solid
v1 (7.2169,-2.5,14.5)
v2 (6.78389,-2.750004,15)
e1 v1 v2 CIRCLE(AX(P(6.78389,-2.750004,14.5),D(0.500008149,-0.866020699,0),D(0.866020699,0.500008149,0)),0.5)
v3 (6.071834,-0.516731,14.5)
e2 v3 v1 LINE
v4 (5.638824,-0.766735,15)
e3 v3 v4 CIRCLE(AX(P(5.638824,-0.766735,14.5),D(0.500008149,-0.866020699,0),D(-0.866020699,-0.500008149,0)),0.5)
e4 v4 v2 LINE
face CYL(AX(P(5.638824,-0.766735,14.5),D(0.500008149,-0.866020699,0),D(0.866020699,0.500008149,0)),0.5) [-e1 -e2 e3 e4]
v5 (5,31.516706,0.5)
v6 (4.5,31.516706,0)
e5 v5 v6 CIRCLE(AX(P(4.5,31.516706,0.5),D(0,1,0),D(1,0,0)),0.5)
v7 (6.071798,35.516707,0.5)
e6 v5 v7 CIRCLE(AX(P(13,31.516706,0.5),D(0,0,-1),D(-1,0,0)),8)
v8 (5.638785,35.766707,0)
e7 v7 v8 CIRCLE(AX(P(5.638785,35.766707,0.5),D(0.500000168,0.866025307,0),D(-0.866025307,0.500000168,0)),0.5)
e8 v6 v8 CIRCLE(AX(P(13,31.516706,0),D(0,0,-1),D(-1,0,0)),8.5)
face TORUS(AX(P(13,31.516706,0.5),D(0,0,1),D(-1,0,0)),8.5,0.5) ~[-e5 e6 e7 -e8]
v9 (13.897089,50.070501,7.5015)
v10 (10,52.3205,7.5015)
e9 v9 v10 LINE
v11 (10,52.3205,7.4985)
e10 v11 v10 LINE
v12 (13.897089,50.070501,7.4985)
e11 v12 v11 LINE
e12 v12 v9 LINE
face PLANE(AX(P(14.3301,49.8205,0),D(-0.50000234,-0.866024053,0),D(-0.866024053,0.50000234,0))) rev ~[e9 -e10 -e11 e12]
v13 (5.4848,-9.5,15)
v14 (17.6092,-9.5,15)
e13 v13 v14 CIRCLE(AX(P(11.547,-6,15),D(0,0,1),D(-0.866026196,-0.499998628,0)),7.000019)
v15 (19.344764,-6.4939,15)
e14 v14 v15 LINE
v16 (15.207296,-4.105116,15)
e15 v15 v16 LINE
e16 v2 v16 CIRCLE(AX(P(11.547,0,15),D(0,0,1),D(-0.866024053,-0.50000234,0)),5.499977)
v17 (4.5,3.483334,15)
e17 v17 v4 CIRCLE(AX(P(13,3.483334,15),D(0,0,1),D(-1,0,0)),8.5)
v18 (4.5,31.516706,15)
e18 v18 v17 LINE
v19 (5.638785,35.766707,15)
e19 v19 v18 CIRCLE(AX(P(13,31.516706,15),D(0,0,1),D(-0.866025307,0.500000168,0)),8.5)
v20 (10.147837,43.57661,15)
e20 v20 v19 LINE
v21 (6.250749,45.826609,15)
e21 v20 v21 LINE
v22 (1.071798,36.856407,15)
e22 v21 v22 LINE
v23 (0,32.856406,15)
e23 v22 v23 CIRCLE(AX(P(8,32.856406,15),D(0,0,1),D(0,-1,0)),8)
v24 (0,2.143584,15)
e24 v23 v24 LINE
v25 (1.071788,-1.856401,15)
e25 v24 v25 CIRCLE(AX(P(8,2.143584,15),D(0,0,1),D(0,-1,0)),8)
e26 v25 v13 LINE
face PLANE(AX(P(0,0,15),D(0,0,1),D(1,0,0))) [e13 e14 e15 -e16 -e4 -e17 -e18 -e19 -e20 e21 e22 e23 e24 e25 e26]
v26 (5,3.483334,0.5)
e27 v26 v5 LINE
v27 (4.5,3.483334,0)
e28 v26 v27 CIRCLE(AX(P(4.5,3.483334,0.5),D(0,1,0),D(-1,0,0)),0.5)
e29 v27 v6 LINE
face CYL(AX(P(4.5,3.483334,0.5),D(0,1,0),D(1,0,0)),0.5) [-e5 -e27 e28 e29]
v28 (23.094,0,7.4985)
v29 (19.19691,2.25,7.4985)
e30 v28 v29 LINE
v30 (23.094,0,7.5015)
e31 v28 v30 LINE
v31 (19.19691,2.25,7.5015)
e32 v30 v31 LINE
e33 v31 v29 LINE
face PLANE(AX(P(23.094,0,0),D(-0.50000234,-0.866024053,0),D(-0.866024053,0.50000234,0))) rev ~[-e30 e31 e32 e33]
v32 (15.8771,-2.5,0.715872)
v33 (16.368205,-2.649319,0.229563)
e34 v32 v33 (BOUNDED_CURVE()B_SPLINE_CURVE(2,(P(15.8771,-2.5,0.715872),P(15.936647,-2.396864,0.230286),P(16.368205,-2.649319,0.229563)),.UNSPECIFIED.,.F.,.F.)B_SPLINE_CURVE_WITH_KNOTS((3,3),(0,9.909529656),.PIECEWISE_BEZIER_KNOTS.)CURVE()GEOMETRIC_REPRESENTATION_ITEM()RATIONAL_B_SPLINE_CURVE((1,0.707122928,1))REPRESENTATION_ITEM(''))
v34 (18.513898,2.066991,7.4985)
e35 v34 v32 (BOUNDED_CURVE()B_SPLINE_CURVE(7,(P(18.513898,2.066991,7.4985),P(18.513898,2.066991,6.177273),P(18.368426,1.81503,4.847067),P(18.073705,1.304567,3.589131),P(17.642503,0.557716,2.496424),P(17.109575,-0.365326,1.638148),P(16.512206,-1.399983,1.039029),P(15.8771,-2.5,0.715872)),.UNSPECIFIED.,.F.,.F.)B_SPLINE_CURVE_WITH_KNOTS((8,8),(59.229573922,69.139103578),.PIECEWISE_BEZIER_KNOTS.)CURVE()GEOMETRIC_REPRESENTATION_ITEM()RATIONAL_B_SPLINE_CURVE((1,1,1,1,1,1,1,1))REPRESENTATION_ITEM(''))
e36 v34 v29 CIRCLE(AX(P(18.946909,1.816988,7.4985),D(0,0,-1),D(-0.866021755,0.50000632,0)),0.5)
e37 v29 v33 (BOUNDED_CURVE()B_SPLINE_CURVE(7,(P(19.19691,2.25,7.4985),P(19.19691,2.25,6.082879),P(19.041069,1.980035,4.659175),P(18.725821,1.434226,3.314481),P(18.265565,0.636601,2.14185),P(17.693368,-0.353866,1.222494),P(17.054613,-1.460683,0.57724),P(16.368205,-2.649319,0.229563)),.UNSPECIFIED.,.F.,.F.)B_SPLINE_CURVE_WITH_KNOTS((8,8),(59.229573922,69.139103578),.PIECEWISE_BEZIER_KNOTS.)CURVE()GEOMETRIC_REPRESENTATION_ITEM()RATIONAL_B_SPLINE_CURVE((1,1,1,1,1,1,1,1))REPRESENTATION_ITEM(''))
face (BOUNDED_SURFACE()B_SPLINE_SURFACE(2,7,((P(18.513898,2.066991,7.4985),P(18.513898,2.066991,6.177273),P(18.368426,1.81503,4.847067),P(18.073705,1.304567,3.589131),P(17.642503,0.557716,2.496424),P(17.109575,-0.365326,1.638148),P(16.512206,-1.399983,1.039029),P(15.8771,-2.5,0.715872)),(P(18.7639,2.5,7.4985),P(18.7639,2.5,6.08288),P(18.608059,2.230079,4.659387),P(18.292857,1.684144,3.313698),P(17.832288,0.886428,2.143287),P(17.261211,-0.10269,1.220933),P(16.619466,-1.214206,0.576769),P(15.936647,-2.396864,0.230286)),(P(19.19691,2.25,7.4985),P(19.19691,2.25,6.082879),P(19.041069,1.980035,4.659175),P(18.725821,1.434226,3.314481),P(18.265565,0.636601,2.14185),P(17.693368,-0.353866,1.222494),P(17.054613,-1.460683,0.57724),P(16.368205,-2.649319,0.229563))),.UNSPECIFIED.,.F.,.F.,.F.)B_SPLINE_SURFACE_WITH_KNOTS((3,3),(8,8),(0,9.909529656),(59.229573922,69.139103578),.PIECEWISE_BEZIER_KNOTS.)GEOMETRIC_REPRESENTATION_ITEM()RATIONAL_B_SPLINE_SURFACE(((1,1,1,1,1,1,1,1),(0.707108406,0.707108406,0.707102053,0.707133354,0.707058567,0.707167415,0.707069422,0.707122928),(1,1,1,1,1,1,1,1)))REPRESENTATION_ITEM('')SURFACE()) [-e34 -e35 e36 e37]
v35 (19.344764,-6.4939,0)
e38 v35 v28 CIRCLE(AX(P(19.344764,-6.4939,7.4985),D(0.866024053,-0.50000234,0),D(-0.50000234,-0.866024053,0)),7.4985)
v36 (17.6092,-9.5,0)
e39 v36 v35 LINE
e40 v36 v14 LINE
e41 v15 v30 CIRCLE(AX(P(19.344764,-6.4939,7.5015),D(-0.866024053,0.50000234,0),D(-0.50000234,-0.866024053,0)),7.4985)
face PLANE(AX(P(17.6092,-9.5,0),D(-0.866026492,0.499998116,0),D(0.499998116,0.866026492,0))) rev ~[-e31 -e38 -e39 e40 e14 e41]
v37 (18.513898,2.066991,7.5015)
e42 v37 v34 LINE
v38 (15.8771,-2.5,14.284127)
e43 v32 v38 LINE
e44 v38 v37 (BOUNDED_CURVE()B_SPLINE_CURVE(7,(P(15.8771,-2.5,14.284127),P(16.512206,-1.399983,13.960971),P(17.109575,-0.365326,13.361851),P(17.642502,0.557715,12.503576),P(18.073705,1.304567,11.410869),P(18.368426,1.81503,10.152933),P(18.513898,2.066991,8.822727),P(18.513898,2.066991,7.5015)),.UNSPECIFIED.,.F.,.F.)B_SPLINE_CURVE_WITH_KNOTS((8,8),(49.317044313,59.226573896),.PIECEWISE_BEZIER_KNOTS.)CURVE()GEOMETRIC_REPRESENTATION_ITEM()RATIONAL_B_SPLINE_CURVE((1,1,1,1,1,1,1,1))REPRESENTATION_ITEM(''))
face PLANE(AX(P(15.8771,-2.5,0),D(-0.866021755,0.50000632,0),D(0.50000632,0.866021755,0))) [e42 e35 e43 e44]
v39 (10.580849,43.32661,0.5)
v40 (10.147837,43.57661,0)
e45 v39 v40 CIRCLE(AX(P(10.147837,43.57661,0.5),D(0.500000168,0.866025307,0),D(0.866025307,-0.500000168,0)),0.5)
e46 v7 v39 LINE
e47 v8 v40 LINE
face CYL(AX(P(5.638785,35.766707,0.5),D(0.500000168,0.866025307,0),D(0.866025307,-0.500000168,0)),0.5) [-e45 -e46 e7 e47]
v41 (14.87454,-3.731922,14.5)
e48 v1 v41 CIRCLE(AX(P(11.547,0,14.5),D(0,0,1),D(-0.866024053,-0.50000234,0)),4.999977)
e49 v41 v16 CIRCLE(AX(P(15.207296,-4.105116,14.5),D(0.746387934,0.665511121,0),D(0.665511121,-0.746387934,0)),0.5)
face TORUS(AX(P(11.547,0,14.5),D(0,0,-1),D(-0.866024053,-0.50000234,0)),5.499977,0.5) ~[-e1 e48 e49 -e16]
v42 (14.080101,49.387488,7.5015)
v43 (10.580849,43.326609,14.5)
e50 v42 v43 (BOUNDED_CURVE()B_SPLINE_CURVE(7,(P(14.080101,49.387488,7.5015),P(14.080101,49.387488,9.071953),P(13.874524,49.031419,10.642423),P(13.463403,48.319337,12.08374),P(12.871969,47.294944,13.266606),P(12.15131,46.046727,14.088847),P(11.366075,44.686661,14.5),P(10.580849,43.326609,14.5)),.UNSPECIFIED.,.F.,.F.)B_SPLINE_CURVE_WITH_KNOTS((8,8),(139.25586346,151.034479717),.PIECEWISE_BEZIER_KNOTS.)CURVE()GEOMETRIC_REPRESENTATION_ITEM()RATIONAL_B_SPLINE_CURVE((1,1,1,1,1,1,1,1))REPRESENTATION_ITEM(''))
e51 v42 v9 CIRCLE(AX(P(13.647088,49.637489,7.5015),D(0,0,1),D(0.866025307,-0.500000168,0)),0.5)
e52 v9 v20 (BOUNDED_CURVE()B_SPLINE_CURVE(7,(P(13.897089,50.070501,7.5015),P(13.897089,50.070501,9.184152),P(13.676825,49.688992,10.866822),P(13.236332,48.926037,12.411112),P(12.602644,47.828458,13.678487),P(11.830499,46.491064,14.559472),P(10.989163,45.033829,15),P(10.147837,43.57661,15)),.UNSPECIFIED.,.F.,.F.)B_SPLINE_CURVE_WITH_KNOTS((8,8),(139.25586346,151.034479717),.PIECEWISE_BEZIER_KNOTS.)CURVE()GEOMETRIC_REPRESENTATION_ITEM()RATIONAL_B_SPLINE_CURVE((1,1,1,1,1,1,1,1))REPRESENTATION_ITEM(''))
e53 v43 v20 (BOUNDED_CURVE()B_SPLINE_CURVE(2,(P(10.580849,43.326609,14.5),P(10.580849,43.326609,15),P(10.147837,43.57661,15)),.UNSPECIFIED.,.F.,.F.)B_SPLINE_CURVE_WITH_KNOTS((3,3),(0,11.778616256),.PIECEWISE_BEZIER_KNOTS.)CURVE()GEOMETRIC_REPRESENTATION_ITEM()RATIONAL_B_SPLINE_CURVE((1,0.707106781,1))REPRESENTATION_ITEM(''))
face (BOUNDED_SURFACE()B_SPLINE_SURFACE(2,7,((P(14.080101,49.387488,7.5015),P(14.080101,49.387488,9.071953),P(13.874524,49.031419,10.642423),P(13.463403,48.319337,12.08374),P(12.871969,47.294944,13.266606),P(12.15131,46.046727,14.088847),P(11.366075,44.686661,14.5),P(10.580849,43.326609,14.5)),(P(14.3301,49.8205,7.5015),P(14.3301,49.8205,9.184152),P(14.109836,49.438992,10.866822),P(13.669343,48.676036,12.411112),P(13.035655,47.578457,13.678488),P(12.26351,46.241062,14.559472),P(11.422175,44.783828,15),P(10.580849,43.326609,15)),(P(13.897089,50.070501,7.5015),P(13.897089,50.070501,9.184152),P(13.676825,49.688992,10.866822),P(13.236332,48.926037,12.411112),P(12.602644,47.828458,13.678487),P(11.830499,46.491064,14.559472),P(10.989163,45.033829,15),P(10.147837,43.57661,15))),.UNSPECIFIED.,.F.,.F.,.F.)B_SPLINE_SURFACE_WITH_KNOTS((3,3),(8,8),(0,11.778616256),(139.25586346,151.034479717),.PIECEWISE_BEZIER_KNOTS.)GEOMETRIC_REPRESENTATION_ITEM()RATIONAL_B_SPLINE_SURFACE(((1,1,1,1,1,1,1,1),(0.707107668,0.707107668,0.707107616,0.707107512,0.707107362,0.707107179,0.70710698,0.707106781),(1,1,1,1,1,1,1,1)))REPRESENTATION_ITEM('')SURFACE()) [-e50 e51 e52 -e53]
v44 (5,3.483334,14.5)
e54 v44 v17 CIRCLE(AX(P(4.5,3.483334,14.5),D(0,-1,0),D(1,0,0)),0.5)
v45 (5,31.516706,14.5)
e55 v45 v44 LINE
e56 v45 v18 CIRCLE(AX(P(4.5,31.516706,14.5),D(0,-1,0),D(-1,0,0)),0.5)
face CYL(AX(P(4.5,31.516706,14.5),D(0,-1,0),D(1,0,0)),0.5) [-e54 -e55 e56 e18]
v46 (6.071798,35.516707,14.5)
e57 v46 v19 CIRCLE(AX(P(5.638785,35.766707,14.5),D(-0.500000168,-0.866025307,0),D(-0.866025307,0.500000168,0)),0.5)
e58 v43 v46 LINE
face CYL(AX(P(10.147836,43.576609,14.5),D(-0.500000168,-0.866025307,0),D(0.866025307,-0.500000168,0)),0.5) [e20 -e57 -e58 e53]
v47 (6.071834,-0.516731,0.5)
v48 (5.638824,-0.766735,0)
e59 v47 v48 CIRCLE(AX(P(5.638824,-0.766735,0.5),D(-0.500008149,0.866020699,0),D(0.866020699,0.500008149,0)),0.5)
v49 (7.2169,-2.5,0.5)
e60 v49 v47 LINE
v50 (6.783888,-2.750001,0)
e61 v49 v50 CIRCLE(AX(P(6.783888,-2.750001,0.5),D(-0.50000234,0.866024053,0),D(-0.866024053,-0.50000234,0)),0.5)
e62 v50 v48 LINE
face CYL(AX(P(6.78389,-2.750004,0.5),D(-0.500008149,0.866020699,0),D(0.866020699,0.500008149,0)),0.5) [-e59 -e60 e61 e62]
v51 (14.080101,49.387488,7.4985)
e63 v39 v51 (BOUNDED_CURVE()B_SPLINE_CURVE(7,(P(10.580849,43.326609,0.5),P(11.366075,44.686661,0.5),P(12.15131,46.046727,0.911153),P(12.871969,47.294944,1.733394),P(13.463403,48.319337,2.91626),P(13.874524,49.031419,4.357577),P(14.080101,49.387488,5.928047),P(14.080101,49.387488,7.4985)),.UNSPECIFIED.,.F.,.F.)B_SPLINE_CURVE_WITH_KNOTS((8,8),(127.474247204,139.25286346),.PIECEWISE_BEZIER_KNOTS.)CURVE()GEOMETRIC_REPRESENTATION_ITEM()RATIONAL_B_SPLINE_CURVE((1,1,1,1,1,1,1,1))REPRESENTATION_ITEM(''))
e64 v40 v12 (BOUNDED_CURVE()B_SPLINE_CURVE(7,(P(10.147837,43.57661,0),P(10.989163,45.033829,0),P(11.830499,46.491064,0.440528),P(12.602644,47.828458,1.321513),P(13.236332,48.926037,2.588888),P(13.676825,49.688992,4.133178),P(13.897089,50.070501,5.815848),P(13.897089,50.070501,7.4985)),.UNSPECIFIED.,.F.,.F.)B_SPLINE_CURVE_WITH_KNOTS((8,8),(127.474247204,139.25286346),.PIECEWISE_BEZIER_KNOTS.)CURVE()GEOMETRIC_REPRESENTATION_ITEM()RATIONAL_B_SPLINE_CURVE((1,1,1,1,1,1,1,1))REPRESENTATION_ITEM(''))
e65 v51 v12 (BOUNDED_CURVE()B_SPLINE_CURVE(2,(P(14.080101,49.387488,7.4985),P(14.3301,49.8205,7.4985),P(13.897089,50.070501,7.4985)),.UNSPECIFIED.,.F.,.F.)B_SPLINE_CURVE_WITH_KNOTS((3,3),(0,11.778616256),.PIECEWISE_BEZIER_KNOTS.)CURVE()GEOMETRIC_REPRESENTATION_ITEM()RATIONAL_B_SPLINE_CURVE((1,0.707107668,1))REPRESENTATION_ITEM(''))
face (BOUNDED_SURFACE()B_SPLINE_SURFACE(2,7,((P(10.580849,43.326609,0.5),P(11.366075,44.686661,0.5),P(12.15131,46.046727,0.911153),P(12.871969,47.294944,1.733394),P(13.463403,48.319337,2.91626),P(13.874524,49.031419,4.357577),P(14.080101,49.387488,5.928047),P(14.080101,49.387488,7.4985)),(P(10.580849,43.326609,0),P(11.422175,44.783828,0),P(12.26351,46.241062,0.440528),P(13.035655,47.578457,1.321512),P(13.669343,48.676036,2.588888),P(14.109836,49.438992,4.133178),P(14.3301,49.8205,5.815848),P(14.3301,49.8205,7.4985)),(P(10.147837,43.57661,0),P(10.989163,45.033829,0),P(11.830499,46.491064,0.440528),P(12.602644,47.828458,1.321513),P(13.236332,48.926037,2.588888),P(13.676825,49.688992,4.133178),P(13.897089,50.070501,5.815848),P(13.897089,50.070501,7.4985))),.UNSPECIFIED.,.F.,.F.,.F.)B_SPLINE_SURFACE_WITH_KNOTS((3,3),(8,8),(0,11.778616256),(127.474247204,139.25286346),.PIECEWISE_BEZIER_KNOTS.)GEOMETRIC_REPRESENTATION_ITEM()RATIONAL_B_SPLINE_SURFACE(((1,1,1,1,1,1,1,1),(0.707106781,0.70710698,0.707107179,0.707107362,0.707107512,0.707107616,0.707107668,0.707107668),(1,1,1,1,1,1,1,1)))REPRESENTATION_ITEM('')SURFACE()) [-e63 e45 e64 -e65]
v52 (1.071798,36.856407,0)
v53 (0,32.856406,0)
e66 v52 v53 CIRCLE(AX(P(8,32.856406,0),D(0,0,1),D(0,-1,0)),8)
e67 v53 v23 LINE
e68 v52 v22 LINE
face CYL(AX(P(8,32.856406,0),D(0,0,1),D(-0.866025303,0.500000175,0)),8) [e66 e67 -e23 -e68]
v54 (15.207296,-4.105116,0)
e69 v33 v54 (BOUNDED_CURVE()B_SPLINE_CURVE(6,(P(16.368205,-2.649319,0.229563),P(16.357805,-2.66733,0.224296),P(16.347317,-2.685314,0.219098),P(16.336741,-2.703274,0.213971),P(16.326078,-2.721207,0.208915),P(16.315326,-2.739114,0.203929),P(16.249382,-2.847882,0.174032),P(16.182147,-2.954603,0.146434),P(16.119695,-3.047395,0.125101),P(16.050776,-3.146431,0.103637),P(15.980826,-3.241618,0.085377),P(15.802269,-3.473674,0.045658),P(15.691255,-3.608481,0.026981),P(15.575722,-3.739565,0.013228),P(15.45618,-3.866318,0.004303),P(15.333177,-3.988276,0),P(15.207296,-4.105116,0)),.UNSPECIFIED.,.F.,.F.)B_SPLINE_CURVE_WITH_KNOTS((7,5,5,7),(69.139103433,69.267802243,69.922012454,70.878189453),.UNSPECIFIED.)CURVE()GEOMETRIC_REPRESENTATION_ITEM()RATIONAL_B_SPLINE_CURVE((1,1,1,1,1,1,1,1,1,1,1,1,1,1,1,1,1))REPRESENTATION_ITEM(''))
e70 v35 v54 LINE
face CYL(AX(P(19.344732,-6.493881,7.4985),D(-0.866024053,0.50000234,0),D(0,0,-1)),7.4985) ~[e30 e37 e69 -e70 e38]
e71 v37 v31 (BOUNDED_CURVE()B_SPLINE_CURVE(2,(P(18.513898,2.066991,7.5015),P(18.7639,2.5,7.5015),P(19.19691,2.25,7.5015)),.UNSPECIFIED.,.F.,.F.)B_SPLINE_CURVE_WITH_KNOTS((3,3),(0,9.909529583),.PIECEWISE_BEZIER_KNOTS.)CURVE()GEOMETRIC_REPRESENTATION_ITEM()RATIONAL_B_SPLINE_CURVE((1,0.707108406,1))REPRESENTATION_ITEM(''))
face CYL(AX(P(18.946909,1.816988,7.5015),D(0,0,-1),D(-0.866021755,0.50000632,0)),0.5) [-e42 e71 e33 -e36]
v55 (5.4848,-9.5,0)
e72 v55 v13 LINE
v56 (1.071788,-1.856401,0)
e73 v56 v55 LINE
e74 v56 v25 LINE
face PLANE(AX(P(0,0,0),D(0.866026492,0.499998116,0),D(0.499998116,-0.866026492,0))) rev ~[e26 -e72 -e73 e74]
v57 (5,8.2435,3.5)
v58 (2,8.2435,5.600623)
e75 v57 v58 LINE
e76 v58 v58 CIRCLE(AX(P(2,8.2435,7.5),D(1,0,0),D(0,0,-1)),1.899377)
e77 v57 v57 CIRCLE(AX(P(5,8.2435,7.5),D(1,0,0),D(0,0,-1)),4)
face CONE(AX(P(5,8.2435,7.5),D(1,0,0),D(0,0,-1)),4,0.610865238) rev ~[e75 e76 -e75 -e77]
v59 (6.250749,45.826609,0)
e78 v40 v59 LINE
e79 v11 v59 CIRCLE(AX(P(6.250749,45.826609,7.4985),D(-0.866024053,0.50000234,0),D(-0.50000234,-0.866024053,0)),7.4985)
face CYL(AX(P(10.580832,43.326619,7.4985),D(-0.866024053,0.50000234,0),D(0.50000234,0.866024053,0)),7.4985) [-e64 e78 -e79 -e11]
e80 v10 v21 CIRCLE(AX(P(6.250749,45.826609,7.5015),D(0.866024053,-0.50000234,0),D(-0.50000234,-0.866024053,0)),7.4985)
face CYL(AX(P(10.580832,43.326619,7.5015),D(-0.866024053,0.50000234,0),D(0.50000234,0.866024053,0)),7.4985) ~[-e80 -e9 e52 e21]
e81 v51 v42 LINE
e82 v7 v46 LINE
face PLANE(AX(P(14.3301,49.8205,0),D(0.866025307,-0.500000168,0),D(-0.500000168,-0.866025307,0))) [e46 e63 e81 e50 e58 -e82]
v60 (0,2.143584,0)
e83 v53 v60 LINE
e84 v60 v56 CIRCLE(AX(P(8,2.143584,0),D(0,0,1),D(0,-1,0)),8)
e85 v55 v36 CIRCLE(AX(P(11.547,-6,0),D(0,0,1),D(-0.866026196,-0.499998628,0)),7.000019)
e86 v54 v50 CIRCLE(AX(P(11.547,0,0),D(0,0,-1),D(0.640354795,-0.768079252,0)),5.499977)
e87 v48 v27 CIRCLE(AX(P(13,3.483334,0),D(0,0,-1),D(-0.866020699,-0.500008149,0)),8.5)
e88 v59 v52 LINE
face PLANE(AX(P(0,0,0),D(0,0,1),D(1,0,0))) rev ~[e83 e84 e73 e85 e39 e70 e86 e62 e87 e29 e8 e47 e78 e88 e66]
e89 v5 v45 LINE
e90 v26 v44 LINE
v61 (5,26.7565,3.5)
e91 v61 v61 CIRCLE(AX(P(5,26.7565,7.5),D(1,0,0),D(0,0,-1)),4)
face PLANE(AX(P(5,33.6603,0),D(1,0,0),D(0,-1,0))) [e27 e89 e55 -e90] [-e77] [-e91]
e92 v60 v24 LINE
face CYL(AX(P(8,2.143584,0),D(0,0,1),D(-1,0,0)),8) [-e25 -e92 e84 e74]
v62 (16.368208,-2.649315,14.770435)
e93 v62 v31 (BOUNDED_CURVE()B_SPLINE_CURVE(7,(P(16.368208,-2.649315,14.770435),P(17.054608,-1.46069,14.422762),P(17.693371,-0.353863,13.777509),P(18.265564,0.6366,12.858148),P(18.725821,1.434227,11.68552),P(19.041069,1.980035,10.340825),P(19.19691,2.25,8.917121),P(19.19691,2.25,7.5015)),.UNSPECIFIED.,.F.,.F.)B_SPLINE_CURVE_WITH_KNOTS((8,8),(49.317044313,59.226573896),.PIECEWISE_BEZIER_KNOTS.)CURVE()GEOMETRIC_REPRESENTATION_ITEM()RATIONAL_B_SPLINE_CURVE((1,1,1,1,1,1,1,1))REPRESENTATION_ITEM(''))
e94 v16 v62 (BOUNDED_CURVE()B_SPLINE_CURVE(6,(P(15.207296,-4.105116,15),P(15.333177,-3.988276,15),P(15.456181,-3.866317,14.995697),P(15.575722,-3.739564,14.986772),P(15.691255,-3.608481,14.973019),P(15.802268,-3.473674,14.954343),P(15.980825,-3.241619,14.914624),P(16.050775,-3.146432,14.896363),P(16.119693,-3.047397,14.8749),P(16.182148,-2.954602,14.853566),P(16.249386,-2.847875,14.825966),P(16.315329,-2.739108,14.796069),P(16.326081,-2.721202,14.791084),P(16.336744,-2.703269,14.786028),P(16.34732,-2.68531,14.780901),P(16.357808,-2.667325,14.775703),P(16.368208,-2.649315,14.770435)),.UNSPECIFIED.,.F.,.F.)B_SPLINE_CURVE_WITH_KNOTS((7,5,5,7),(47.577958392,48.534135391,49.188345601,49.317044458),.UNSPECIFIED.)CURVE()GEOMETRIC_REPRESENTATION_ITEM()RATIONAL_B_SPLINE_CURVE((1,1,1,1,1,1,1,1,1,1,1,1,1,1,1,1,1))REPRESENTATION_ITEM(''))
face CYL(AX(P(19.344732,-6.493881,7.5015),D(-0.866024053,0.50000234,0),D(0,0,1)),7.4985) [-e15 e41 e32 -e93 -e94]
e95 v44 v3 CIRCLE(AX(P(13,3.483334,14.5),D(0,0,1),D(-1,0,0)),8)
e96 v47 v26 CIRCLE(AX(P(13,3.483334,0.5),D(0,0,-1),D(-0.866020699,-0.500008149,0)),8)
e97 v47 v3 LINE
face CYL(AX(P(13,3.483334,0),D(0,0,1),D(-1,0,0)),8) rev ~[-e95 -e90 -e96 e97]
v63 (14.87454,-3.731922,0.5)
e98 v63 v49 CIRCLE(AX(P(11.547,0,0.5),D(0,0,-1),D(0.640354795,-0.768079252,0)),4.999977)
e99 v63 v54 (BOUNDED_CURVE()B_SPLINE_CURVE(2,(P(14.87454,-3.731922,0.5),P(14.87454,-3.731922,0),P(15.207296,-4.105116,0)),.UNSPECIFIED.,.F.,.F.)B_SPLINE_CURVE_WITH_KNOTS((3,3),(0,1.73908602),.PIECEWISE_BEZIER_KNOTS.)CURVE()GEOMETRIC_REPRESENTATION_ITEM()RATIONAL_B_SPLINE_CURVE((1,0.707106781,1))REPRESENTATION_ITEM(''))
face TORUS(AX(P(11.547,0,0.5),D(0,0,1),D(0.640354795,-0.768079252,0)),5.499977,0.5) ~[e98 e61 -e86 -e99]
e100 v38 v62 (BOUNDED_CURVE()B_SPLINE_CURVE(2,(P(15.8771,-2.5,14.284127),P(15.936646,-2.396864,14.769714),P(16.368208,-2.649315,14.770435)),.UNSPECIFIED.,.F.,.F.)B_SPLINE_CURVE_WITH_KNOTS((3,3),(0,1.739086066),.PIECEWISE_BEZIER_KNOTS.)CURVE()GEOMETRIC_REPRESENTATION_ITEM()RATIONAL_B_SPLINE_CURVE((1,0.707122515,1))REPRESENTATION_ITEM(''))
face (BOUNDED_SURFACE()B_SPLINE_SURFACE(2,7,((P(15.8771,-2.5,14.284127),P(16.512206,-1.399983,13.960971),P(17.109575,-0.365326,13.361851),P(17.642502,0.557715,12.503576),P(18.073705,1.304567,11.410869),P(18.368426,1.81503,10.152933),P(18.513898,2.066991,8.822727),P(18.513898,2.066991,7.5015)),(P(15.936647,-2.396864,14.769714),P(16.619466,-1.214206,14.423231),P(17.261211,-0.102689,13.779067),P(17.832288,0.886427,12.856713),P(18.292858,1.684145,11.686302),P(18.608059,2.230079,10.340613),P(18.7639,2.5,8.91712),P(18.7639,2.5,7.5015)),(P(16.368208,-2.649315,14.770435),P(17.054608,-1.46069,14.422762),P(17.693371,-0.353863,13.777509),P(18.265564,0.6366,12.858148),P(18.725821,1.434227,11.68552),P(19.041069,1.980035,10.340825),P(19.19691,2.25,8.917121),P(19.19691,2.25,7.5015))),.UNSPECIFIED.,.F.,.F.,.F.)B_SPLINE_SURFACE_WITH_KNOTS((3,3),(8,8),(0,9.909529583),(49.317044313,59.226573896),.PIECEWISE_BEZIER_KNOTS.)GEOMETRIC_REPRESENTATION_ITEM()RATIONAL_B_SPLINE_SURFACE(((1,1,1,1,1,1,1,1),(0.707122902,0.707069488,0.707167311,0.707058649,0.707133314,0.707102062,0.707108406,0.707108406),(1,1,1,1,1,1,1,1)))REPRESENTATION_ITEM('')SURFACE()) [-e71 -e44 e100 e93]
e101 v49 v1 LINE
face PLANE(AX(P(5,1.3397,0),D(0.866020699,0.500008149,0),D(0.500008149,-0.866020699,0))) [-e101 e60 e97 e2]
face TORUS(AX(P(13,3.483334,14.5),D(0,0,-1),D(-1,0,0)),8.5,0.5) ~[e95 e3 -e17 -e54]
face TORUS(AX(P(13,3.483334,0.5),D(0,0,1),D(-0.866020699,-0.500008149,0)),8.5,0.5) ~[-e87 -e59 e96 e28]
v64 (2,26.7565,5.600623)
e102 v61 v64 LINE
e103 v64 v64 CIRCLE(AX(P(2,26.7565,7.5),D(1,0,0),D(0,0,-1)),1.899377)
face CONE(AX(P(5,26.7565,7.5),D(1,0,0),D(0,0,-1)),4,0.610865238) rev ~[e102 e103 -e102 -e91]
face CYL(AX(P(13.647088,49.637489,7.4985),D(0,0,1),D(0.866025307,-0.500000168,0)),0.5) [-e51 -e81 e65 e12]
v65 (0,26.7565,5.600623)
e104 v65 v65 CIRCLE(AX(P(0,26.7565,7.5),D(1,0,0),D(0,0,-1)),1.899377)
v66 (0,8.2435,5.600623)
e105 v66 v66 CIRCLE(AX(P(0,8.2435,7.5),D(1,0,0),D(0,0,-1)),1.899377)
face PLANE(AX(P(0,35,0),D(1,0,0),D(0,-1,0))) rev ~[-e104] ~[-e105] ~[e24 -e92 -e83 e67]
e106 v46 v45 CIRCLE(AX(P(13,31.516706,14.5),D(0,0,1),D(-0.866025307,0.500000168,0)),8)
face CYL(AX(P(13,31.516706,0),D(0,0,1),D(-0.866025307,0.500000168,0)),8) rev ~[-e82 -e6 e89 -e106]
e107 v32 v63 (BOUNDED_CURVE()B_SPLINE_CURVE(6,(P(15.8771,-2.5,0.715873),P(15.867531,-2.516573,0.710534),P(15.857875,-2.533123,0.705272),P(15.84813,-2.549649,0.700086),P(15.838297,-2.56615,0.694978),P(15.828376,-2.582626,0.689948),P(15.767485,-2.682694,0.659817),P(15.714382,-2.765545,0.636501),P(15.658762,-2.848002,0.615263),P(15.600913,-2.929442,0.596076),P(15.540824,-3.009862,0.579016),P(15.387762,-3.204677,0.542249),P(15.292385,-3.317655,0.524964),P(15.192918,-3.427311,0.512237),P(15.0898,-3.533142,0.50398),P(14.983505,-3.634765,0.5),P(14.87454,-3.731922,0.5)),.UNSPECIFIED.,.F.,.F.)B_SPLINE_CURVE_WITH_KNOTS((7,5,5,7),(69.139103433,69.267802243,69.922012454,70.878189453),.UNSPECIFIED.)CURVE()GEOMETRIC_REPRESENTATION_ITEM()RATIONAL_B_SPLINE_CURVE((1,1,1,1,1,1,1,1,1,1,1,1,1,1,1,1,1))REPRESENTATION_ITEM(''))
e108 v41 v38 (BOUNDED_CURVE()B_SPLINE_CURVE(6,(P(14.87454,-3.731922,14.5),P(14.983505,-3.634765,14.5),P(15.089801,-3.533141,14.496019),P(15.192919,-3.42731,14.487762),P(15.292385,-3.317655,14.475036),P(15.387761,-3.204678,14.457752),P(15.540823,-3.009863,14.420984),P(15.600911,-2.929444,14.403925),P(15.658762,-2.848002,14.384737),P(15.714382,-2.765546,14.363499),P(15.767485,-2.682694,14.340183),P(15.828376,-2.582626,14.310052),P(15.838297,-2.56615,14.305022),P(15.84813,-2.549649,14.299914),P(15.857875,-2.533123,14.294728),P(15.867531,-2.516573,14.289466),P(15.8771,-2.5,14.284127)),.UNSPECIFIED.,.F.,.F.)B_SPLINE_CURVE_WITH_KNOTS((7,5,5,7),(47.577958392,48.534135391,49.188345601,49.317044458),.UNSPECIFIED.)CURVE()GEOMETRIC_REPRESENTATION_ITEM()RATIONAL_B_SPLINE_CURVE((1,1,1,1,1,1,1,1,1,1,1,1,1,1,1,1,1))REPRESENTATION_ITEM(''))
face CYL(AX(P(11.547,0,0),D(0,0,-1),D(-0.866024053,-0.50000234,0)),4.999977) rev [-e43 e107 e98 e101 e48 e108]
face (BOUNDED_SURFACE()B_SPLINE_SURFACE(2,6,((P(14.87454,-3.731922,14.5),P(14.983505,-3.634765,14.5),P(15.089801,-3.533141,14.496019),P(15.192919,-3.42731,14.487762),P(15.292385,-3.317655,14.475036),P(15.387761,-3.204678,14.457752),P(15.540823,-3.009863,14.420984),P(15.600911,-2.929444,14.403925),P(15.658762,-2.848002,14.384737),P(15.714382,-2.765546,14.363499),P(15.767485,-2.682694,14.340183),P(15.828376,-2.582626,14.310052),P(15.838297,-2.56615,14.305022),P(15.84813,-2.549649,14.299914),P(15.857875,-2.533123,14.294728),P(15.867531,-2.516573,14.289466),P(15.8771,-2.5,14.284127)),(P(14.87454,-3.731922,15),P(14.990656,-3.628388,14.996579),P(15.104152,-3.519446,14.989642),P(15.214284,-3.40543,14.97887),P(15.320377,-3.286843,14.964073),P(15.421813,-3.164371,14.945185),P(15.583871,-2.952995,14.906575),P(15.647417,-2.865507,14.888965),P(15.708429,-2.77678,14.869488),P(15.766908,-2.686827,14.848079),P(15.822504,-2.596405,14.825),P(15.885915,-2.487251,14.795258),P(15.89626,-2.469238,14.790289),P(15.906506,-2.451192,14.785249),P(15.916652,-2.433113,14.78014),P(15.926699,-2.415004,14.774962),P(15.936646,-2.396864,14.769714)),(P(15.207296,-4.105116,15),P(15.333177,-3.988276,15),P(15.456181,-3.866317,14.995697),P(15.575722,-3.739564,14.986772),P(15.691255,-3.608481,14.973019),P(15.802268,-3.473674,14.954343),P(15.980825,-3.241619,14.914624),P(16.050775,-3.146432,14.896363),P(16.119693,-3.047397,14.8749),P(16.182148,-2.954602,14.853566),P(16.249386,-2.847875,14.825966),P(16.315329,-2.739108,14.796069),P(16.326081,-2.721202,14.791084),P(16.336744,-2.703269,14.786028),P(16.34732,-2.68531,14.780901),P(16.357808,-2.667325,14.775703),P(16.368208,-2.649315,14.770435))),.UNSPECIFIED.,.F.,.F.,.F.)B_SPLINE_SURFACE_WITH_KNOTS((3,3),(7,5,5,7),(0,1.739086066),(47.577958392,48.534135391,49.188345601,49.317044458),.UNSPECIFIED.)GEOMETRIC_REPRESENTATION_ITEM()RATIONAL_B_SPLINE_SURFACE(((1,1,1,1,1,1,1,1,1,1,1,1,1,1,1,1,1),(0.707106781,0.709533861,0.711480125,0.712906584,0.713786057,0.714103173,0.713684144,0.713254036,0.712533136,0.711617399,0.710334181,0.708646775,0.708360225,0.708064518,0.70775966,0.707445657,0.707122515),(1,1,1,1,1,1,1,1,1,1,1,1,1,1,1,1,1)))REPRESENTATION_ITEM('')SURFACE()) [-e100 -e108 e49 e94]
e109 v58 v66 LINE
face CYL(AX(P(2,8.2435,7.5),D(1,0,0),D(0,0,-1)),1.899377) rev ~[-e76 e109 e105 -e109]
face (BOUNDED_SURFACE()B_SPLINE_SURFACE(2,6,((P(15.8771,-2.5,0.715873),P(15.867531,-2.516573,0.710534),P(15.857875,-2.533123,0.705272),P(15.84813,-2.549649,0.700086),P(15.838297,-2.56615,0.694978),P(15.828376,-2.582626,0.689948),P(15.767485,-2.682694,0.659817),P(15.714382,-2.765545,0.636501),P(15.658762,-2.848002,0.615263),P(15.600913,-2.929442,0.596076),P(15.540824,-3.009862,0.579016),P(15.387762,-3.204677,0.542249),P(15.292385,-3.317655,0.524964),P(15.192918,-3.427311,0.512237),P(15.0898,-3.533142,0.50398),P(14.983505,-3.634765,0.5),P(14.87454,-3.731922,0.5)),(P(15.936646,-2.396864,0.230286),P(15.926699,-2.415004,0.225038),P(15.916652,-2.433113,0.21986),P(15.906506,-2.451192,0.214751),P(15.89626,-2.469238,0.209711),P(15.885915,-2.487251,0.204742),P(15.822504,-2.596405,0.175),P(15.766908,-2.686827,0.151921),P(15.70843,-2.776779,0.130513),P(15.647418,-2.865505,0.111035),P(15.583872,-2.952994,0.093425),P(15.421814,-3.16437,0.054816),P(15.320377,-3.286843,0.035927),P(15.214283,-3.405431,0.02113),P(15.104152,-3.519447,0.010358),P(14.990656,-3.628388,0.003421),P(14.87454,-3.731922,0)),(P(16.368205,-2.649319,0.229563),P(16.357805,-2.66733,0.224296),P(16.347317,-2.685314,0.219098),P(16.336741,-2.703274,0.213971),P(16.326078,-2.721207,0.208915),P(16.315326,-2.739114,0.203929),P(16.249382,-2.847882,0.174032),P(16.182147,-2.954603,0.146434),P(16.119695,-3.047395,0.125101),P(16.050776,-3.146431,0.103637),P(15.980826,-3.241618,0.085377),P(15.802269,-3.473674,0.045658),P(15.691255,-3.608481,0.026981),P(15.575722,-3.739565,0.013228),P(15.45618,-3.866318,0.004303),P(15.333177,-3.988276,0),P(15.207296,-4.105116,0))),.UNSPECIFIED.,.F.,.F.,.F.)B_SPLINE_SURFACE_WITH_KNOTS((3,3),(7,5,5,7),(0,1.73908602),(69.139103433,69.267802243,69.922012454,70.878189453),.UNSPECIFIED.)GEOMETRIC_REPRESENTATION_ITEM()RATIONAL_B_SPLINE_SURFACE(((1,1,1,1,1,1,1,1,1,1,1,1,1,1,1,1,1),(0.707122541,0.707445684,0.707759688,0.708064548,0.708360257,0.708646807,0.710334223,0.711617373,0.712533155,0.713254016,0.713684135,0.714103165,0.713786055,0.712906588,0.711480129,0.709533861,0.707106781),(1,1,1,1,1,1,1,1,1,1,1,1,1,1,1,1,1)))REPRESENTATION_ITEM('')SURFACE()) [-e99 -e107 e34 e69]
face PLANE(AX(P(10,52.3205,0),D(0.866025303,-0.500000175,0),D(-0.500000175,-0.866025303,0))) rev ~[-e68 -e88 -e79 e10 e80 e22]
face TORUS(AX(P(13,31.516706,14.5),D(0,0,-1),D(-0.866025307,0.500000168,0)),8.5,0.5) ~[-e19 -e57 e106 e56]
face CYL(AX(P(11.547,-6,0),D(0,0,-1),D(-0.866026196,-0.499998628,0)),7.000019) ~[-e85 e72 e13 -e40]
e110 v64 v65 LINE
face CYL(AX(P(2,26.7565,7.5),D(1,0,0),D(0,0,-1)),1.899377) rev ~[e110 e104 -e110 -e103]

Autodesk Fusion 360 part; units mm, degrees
sketch "Sketch1" plane through (0, 0, 0) normal (0, 0, 1) x (1, 0, 0)
  line L0 (10, 52.3205) -> (0, 35)
  line L1 (0, 35) -> (0, 0)
  line L2 (0, 0) -> (5.4848, -9.5)
  line L3 (17.6092, -9.5) -> (23.094, 0)
  line L4 (14.3301, 49.8205) -> (5, 33.6603)
  line L5 (5, 33.6603) -> (5, 1.3397)
  line L6 (5, 1.3397) -> (7.2169, -2.5)
  line L7 (15.8771, -2.5) -> (18.7639, 2.5)
  line L8 (23.094, 0) -> (18.7639, 2.5)
  line L9 (14.3301, 49.8205) -> (10, 52.3205)
  arc A0 (7.2169, -2.5) -> (15.8771, -2.5) centre (11.547, 0) ccw
  arc A1 (5.4848, -9.5) -> (17.6092, -9.5) centre (11.547, -6) ccw
  point P0 (11.547, -20)
  dimension "d1" = 35
  dimension "d2" = 20
  dimension "d3" = 20
  dimension "d4" = 20
  dimension "d5" = 150
  dimension "d6" = 150
  dimension "d8" = 5
  dimension "d9" = 7
extrude "Extrude1" add sketch "Sketch1" along normal blind 15
sketch "Sketch2" plane through (5, 0, 0) normal (1, 0, 0) x (0, 0, -1)
  line L0 (0, 1.3397) -> (0, 33.6603)
  line L1 (0, 33.6603) -> (-15, 33.6603)
  line L2 (-15, 33.6603) -> (-15, 1.3397)
  line L3 (-15, 1.3397) -> (0, 1.3397)
  line L4 (-7.5, 1.3397) -> (-7.5, 33.6603) construction
  line L5 (-15, 17.5) -> (0, 17.5) construction
  circle A0 centre (-7.5, 26.7565) radius 4
  circle A1 centre (-7.5, 8.2435) radius 4
  dimension "d12" = 8
  dimension "d13" = 6.9037
extrude "Extrude2" cut sketch "Sketch2" against normal blind 3 draft -35 contours A0 | A1
extrude "Extrude3" cut 2 faces at (2, 27.3459, 7.7313) (2, 8.7385, 7.1999) along direction (-1, 0, 0) through all
fillet "Fillet1" radius 7.5 4 edges at (20.9289, 1.25, 15) (20.9289, 1.25, 0) (12.1651, 51.0705, 15) (12.1651, 51.0705, 0)
fillet "Fillet2" radius 8 4 edges at (5, 1.3397, 7.5) (0, 0, 7.5) (0, 35, 7.5) (5, 33.6603, 7.5)
fillet "Fillet3" radius 0.5 16 edges at (5.2726, 33.5872, 15) (8.326, 39.421, 15) (14.3301, 49.8205, 7.5) (8.326, 39.421, 0) (5.2726, 33.5872, 0) (5, 17.5, 0) (5.2726, 1.4128, 0) (6.6443, -1.5083, 0) (10.6702, -4.9225, 0) (15.3815, -3.2072, 0.0512) (18.7639, 2.5, 7.5) (15.3815, -3.2072, 14.9488) (10.6702, -4.9225, 15) (6.6443, -1.5083, 15) (5.2726, 1.4128, 15) (5, 17.5, 15)
equation "d3 = d2"
equation "d4 = d2"
equation "d6 = d5"
